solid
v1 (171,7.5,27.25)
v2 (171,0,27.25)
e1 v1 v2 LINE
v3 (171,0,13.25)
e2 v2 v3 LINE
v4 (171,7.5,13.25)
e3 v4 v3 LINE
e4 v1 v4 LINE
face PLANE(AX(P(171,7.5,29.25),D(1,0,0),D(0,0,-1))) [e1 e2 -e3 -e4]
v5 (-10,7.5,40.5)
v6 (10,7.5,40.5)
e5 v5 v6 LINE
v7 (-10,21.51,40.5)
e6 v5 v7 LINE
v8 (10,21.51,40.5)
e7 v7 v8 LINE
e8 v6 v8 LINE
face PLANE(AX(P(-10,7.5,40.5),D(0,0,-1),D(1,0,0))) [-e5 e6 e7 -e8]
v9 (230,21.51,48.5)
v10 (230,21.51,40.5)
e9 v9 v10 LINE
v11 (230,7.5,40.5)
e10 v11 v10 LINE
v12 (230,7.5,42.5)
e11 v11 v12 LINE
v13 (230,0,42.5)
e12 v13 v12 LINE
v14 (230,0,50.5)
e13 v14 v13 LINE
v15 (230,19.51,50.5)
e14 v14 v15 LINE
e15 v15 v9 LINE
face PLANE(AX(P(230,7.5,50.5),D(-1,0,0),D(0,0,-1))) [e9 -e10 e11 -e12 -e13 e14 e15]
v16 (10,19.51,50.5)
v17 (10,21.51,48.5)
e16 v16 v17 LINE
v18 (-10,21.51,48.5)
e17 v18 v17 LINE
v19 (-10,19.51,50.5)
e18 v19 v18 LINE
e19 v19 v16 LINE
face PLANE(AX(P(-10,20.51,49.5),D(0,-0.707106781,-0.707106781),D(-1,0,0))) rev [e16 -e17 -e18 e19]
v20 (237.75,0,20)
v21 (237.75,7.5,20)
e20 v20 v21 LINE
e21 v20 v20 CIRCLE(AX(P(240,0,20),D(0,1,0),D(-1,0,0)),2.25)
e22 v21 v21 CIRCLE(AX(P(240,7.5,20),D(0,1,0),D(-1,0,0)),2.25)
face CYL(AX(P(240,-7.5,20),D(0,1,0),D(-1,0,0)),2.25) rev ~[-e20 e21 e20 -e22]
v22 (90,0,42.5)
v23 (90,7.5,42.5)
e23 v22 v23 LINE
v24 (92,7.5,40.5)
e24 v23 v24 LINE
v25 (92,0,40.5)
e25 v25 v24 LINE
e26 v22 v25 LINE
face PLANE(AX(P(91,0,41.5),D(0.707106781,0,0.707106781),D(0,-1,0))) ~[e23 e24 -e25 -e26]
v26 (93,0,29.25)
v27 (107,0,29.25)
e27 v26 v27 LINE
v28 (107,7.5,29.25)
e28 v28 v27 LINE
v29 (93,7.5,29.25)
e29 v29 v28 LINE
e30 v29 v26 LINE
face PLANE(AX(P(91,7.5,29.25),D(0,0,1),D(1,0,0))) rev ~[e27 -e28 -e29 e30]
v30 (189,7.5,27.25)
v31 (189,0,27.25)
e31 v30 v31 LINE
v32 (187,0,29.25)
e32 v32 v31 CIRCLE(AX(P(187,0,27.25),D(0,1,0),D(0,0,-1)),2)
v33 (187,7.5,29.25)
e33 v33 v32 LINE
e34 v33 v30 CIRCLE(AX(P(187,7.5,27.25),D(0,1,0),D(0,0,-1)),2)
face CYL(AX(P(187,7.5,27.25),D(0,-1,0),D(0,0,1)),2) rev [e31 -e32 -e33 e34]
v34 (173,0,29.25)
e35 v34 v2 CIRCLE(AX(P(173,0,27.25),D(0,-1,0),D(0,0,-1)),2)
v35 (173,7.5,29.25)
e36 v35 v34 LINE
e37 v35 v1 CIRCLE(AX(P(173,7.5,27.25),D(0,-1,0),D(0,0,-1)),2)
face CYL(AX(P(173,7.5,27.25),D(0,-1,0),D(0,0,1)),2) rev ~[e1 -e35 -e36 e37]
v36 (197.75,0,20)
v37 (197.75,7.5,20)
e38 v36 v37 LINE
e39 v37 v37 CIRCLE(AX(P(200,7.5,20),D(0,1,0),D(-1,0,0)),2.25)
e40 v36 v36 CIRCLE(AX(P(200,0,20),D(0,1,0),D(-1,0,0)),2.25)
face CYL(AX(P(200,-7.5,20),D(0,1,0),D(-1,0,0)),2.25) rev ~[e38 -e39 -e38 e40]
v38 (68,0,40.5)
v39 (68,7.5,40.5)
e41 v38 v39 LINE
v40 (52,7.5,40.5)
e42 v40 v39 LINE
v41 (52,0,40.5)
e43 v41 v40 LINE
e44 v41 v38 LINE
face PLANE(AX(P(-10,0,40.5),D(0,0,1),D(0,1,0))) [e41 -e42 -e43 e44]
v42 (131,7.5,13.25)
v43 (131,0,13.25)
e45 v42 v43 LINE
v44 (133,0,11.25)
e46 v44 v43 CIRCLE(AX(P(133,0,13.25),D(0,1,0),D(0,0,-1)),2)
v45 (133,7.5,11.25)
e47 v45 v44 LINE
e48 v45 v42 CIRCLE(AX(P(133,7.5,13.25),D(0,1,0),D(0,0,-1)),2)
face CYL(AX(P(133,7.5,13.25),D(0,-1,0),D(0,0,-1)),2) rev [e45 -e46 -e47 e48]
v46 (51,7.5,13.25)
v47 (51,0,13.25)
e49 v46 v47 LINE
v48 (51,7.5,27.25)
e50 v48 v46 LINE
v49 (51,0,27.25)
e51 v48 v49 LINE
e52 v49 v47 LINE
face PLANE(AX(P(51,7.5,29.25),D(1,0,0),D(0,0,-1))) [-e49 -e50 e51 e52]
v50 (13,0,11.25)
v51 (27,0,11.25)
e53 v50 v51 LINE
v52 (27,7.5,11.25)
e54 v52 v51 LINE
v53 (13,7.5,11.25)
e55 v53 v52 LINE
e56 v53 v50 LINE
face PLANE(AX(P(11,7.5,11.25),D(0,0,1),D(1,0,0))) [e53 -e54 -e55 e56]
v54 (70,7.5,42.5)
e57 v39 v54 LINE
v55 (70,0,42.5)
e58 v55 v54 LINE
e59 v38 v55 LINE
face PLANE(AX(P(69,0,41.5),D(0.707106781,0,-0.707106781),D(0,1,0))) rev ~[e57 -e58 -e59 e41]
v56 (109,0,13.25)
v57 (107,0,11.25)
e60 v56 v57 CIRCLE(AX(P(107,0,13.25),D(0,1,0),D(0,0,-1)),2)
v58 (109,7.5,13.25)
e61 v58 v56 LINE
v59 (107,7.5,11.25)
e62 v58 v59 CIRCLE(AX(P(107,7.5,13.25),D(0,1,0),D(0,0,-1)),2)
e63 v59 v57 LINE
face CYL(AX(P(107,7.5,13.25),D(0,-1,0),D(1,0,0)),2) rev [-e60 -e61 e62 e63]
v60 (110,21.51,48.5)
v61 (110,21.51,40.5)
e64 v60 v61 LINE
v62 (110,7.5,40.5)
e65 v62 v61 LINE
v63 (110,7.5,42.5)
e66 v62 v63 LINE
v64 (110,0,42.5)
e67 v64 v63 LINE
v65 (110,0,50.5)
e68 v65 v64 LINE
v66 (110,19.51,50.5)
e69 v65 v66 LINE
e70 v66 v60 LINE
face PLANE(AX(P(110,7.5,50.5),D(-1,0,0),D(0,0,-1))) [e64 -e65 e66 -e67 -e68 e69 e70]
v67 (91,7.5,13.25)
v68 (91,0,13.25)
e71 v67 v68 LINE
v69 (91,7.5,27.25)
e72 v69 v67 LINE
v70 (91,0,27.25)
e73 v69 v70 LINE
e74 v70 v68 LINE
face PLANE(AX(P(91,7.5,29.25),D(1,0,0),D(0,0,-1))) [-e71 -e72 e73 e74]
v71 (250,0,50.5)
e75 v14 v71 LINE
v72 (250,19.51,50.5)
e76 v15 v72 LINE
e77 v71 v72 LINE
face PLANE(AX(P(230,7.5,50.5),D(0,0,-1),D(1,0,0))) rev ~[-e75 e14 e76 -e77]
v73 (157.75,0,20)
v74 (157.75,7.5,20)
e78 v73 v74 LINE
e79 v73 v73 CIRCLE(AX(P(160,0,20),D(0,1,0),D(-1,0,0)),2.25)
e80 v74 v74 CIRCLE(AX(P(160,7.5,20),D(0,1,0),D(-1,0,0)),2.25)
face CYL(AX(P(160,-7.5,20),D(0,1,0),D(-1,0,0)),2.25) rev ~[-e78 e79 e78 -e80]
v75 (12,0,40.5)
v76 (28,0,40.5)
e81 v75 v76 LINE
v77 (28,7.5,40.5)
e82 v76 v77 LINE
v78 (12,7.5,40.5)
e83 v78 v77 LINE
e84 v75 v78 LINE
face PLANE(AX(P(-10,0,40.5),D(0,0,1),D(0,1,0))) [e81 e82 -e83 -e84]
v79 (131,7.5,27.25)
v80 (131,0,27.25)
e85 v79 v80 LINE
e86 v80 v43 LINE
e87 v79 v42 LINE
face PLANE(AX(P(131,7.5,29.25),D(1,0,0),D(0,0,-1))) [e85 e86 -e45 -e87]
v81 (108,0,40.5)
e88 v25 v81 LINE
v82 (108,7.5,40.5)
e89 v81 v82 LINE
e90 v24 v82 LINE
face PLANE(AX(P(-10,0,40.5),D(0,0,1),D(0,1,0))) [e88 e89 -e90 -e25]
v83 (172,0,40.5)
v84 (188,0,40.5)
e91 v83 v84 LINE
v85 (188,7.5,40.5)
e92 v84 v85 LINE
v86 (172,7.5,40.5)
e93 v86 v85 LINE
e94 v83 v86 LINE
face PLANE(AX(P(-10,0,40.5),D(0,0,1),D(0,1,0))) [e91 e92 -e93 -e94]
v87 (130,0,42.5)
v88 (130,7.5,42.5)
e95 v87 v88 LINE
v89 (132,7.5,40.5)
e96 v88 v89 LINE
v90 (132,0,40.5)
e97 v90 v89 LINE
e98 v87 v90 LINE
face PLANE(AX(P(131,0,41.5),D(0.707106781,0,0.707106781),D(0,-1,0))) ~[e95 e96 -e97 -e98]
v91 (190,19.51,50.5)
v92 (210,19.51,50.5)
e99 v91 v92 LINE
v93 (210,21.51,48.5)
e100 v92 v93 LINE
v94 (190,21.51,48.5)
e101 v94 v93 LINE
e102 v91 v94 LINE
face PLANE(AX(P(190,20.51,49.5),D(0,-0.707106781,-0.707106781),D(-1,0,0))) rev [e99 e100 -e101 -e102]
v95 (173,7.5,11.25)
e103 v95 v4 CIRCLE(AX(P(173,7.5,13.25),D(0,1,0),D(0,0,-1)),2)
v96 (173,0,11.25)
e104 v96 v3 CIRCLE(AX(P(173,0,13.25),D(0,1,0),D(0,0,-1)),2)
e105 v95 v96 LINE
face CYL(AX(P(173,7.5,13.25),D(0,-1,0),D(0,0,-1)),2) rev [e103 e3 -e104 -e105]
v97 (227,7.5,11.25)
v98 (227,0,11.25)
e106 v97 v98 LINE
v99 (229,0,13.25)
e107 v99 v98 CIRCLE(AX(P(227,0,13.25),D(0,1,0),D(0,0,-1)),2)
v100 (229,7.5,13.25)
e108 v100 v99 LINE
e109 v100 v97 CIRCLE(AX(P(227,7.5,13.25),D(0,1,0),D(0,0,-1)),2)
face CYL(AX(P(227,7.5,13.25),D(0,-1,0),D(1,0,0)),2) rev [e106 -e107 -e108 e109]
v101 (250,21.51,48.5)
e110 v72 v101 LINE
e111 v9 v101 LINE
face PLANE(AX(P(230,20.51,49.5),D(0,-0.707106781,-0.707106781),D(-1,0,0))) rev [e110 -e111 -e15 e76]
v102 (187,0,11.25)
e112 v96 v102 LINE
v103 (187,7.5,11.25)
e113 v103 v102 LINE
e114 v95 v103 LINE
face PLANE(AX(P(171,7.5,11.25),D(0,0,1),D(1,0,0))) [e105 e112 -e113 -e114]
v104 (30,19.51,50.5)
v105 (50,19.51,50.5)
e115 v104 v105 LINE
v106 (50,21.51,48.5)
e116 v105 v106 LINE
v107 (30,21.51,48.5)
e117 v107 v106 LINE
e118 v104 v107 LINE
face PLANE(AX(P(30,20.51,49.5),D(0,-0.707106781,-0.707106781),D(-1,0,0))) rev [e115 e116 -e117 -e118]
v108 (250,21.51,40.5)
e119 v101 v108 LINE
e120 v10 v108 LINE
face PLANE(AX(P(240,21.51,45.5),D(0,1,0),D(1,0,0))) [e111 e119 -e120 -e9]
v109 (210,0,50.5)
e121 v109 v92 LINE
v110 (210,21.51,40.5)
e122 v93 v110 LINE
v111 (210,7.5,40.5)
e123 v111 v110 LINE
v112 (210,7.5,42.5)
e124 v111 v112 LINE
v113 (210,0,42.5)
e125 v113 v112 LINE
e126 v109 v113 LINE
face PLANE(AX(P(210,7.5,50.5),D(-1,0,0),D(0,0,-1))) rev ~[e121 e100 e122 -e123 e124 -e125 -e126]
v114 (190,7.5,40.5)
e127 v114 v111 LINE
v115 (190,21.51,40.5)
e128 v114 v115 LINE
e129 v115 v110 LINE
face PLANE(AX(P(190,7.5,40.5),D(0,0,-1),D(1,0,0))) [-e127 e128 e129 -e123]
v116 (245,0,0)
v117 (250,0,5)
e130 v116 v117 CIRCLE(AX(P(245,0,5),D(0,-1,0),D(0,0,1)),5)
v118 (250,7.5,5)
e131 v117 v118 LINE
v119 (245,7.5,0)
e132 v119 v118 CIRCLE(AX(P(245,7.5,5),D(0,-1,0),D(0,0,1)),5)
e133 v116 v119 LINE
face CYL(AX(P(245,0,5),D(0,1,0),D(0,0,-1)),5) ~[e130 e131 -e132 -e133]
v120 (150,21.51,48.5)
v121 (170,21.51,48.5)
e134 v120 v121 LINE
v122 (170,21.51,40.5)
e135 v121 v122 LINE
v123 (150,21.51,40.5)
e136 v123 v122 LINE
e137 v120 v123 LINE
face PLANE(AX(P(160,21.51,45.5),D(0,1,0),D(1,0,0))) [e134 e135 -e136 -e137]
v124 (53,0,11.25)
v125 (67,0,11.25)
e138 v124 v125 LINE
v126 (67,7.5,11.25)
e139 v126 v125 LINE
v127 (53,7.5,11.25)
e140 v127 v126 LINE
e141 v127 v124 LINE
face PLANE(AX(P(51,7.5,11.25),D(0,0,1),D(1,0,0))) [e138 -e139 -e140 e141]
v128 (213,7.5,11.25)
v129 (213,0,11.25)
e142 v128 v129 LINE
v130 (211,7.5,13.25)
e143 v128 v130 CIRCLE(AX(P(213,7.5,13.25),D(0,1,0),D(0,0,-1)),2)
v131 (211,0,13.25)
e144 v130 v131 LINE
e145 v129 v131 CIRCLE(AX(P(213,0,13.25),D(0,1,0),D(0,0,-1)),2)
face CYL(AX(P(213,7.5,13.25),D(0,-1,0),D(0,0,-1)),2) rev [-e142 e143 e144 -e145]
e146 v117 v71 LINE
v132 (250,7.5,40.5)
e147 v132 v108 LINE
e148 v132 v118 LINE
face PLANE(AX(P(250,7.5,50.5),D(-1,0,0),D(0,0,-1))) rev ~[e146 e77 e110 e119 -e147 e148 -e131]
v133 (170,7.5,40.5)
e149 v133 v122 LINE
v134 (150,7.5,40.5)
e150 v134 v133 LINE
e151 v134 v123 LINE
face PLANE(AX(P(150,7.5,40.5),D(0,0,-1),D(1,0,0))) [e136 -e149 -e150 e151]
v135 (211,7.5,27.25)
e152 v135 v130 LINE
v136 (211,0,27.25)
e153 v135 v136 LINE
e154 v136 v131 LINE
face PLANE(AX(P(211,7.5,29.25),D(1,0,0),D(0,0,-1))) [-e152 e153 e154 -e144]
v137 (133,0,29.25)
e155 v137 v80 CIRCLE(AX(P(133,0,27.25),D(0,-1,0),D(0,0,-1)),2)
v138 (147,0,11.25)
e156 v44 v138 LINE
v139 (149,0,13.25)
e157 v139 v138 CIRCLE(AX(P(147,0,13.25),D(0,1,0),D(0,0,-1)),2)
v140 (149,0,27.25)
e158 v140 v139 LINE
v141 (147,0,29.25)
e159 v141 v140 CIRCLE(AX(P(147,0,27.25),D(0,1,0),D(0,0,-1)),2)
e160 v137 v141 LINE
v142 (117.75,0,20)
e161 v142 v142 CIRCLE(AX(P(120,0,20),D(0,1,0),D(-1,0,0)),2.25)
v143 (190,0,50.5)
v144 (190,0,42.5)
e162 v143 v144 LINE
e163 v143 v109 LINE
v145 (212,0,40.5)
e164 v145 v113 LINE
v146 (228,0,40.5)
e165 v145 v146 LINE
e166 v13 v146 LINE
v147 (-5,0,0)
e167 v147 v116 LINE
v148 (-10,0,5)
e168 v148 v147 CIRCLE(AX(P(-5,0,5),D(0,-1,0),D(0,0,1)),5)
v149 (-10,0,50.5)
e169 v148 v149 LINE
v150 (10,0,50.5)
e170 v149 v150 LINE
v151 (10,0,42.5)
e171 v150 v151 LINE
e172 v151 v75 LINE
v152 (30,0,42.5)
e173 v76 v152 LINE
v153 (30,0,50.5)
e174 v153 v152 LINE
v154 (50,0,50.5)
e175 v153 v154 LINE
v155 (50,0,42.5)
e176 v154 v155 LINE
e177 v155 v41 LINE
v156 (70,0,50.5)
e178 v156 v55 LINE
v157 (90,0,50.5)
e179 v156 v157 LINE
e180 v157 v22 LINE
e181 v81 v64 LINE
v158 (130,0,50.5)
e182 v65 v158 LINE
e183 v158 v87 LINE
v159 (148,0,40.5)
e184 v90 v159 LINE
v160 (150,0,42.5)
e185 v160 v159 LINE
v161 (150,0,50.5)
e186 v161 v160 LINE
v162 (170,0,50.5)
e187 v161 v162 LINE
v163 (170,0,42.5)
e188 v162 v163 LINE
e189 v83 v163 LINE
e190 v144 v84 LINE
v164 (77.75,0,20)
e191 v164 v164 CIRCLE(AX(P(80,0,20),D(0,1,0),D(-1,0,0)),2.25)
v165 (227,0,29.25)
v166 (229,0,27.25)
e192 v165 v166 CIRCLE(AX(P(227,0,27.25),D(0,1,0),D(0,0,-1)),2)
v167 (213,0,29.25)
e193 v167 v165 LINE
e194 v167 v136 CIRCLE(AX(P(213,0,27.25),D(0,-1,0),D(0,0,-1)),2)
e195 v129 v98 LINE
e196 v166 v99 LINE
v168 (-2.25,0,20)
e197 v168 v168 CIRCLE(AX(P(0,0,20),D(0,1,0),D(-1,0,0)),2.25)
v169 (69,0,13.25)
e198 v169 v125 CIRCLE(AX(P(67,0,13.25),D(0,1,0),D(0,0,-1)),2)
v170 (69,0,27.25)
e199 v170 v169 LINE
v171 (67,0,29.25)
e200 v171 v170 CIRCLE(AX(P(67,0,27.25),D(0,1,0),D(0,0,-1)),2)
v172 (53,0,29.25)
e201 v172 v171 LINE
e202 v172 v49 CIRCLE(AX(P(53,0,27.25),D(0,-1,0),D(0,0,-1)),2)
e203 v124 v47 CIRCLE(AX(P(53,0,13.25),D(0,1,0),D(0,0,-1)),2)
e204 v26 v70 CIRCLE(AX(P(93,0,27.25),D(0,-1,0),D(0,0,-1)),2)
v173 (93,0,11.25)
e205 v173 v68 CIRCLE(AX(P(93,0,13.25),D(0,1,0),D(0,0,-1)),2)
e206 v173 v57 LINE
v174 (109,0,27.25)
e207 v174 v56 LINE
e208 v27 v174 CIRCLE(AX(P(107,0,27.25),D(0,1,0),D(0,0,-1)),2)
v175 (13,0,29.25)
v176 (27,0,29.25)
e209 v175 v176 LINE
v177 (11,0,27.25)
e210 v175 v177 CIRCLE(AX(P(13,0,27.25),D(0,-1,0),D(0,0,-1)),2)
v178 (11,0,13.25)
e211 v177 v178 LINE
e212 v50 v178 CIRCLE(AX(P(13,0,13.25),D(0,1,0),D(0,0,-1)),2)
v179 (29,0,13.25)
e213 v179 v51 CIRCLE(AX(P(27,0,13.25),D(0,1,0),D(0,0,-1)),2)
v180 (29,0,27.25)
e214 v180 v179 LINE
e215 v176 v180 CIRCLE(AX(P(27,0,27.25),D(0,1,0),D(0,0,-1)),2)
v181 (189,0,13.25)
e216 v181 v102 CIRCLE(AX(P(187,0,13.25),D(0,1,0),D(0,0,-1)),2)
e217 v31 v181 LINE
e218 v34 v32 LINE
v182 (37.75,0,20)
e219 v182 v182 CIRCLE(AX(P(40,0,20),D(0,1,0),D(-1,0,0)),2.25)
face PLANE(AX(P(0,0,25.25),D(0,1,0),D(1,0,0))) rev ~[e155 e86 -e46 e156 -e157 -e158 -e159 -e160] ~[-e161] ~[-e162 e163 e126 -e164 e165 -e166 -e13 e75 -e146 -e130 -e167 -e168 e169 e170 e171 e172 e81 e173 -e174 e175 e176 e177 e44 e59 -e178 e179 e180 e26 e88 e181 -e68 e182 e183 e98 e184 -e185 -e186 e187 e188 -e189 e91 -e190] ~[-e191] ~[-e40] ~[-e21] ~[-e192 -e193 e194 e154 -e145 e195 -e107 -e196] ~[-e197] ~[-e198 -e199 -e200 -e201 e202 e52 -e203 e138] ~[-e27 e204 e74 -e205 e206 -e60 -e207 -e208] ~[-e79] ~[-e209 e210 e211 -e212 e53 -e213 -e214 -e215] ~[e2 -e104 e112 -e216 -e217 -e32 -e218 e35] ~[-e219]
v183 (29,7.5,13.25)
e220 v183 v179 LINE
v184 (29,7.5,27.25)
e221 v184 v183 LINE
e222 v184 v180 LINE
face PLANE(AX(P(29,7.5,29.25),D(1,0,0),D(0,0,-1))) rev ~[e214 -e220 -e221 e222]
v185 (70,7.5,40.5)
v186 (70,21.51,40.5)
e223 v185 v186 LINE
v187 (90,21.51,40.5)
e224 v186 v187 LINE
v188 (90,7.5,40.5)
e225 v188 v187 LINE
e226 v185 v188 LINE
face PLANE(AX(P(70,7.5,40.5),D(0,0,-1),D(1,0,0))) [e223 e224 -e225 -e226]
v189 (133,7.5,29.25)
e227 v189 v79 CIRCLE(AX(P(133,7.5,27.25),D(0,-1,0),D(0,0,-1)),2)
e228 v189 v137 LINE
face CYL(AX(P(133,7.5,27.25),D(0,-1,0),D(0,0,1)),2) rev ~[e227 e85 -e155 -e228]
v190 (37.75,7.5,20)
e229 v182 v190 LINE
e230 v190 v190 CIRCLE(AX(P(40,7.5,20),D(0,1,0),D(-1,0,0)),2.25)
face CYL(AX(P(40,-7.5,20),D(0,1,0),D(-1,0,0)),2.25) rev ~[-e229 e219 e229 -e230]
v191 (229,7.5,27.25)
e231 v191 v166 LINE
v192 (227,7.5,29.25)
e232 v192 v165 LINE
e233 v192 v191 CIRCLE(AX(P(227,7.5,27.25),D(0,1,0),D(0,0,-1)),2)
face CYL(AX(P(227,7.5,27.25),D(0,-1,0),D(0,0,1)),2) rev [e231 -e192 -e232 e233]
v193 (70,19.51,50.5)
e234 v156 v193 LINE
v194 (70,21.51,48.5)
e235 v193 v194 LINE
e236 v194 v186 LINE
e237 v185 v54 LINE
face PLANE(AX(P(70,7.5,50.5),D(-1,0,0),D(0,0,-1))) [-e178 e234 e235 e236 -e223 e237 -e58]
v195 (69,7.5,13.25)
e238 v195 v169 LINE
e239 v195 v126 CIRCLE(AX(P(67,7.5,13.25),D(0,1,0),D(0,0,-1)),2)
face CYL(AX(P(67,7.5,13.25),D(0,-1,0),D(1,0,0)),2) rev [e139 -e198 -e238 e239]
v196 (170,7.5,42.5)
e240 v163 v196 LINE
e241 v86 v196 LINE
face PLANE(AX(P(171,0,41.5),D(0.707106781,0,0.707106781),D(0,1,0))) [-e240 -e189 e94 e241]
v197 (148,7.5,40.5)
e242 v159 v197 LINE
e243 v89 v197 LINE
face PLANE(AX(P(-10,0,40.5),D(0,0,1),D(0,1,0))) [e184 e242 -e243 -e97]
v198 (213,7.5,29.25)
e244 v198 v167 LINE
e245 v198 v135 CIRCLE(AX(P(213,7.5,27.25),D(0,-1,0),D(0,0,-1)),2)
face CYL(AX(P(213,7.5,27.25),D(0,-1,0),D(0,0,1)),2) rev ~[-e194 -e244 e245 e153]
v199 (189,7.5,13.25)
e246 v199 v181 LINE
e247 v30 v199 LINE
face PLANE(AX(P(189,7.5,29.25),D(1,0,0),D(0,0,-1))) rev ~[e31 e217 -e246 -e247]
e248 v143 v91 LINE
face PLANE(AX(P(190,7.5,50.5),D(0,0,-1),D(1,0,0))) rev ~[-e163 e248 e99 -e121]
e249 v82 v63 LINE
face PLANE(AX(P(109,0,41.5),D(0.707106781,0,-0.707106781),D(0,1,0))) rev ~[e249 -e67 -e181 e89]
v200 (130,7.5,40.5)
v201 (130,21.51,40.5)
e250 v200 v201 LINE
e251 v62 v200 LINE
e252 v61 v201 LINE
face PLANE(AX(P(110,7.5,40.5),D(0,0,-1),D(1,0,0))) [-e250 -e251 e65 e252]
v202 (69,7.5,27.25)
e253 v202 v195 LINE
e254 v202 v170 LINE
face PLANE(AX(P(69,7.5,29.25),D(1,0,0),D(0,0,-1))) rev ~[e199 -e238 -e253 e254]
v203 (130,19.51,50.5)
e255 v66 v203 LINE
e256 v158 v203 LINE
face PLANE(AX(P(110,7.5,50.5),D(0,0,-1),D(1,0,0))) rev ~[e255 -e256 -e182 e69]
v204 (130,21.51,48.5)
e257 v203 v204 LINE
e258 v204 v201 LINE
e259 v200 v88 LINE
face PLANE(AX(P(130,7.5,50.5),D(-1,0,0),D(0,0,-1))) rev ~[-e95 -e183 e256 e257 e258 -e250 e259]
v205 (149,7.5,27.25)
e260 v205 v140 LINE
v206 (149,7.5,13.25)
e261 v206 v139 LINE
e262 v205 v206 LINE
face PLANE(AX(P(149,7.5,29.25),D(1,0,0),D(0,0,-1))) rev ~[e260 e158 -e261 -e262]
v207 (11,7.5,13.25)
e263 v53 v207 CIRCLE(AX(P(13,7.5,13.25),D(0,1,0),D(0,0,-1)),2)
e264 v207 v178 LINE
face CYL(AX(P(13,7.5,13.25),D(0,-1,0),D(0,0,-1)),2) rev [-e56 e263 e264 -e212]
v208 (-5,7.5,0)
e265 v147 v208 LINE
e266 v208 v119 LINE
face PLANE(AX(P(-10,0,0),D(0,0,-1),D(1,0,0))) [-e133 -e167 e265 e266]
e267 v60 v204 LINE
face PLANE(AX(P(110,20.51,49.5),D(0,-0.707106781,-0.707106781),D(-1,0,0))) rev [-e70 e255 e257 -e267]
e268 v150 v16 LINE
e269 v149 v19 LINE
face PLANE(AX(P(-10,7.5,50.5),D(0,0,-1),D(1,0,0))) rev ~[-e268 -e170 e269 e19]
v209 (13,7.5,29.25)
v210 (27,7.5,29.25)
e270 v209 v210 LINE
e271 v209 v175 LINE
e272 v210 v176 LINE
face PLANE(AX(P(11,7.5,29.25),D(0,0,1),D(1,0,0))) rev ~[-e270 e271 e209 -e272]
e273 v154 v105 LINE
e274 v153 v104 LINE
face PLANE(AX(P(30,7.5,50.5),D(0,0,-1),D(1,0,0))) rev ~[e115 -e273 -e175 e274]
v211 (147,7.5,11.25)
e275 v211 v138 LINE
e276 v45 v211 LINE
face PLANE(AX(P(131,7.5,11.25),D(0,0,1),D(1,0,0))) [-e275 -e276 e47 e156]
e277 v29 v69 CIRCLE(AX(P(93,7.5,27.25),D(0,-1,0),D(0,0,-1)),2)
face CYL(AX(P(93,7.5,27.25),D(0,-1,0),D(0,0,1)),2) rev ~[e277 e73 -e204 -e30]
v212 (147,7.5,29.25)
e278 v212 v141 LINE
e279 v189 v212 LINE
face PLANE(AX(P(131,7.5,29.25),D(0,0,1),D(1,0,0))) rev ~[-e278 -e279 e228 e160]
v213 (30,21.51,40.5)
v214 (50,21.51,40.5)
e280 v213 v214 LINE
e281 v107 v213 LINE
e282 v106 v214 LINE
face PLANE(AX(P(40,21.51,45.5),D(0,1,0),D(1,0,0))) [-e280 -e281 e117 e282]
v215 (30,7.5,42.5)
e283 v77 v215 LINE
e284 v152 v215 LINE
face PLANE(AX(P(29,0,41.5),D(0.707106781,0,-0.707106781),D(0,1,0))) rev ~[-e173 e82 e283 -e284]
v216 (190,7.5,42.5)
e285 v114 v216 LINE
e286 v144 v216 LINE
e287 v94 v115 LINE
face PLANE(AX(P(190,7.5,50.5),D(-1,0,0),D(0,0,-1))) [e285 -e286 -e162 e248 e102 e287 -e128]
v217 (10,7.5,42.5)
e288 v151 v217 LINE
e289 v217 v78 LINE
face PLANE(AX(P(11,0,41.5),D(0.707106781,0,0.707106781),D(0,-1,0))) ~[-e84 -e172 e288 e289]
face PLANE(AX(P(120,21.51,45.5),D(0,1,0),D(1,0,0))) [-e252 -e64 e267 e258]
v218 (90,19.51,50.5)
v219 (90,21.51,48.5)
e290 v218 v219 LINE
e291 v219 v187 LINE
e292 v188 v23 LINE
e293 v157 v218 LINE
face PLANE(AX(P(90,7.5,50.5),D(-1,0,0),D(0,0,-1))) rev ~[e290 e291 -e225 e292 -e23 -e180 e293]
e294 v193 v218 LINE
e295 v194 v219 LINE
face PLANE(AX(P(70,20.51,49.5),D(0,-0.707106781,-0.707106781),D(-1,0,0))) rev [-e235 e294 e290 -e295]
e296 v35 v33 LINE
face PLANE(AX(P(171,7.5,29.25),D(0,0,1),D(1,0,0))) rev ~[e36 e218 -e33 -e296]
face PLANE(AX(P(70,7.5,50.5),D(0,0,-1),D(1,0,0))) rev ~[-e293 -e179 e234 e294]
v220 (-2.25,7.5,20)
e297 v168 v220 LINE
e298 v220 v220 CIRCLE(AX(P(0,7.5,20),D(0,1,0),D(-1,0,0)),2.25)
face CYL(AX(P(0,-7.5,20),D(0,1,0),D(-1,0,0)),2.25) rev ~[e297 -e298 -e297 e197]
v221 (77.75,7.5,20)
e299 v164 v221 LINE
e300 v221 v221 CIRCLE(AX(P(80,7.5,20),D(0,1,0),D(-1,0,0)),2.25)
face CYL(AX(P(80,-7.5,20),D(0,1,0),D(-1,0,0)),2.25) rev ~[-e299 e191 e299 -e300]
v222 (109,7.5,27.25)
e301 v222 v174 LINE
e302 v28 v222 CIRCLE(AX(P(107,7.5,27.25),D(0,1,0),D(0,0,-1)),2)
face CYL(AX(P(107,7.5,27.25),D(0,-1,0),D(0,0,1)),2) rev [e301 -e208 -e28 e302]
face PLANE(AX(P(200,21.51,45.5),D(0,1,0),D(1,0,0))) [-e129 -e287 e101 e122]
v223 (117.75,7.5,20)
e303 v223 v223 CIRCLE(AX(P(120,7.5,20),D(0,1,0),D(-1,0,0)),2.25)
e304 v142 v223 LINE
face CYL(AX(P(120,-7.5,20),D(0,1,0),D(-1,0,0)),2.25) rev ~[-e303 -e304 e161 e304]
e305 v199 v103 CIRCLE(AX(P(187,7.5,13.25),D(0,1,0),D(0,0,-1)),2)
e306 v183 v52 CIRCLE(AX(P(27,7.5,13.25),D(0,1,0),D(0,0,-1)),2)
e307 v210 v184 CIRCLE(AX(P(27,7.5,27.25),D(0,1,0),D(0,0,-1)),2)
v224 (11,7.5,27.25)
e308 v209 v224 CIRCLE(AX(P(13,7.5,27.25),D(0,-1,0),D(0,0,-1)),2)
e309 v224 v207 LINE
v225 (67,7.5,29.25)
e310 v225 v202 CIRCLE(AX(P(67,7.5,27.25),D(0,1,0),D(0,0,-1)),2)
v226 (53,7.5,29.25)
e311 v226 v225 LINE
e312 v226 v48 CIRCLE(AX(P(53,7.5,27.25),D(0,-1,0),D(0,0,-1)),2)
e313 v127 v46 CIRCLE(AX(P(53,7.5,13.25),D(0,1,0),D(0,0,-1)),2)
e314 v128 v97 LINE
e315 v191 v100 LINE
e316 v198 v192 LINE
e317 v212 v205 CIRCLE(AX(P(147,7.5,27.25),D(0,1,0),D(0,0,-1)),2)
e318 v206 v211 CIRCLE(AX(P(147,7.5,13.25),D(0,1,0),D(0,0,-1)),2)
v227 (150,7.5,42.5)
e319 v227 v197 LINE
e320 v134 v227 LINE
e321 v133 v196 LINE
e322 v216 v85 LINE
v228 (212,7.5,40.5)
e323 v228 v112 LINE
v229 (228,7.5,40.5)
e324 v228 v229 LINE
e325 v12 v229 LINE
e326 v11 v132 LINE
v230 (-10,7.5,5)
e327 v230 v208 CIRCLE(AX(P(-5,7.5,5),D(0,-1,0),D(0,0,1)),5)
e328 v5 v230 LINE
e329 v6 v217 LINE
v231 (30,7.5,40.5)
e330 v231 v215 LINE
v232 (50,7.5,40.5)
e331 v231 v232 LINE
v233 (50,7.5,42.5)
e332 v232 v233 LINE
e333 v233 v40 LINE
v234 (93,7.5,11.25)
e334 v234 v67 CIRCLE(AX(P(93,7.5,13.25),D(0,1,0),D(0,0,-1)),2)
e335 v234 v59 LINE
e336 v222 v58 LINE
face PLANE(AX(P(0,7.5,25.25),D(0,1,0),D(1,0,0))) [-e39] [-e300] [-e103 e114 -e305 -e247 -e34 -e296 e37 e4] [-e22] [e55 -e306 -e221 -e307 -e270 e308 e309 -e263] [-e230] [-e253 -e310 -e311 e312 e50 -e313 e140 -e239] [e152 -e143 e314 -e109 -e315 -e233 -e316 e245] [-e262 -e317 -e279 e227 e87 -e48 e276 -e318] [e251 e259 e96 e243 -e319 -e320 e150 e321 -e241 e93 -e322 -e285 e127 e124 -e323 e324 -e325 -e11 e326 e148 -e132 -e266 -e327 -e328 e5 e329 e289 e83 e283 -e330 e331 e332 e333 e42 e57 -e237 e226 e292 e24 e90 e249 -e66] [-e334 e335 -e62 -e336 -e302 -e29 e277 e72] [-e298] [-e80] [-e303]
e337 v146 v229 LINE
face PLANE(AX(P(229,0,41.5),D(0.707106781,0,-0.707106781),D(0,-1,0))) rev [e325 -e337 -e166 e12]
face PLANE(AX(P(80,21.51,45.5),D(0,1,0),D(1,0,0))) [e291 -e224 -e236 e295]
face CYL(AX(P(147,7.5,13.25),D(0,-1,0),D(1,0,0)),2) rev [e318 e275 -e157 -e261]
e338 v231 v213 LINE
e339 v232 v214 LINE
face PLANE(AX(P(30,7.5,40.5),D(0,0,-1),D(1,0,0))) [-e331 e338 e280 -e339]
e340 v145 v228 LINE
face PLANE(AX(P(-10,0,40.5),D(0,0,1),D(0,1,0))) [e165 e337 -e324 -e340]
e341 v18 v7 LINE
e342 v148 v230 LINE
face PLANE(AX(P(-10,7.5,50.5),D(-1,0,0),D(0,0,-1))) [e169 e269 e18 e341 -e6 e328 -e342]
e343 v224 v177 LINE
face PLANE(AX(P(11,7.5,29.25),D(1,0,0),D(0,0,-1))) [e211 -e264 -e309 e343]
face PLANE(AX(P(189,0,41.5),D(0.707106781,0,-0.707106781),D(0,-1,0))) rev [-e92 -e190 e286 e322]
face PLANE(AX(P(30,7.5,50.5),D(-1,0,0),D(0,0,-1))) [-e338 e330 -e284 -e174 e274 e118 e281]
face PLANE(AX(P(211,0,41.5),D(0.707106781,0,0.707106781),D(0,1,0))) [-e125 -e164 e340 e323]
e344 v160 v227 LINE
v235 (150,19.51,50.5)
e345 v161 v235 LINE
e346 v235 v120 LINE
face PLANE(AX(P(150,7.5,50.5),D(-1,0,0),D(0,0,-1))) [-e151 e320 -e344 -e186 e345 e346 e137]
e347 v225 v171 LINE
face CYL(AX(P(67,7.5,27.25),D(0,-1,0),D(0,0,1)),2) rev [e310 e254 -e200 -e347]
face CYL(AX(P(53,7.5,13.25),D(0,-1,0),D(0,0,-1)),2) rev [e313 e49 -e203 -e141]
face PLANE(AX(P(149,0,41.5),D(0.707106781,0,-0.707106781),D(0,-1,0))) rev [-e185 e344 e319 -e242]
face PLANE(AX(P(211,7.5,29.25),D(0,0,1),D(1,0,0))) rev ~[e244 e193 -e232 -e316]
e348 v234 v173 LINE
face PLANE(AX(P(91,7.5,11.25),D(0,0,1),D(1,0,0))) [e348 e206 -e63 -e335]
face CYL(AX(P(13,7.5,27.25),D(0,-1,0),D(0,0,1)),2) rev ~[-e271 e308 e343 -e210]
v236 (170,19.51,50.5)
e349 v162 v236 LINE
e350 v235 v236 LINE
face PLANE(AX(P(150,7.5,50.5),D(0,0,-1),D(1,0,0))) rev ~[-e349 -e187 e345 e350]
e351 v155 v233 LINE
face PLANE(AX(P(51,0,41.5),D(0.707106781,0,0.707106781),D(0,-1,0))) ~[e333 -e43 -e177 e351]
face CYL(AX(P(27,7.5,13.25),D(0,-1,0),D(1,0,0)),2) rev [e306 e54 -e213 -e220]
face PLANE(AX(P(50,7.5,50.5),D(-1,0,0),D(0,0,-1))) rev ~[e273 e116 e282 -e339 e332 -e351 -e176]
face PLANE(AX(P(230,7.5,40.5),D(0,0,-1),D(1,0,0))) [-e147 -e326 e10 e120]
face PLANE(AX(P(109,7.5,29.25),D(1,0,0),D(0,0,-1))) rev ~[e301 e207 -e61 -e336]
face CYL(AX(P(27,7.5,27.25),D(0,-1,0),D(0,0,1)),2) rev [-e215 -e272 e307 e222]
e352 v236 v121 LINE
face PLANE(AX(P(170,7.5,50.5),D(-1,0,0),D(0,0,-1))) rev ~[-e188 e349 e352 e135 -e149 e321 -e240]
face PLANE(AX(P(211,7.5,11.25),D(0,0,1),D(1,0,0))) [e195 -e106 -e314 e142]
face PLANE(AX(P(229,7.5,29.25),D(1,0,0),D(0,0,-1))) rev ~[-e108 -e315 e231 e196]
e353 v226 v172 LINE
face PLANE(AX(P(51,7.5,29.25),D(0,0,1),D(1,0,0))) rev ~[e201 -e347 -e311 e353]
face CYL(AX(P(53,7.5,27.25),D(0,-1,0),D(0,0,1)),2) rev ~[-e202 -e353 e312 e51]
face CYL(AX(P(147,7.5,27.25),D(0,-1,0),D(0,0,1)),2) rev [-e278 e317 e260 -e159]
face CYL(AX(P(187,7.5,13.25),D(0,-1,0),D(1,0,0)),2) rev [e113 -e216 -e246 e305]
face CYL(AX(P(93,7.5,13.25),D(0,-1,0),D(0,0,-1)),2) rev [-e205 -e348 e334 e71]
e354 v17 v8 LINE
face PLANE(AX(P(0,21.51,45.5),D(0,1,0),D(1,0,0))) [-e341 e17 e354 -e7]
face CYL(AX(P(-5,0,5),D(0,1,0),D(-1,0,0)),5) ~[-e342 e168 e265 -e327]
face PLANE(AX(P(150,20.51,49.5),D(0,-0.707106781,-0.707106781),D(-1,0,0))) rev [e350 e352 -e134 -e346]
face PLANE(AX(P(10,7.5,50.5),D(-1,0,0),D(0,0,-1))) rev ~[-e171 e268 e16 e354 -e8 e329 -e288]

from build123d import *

# Parameters (mm, degrees)
SKETCH1_W                = 20
SKETCH1_H                = 50.5
BOSS_EXTRUDE1_DEPTH      = 7.5
SKETCH2_W                = 20
SKETCH2_H                = 10
BOSS_EXTRUDE2_DEPTH      = 14.01
LPATTERN1_COUNT          = 7
LPATTERN1_PITCH          = 40
SKETCH4_W                = 40.5
SKETCH4_H                = 7.5
BOSS_EXTRUDE3_DEPTH      = 260
M4_CLEARANCE_HOLE1_D     = 4.5
M4_CLEARANCE_HOLE1_DEPTH = 7.5
LPATTERN2_COUNT          = 7
LPATTERN2_PITCH          = 40
SKETCH7_W                = 18
SKETCH7_H                = 18
CUT_EXTRUDE1_DEPTH       = 8.5
FILLET1_R                = 2
LPATTERN3_COUNT          = 6
LPATTERN3_PITCH          = 40
FILLET1_OF_LPATTERN3_R   = 2
FILLET2_R                = 5
CHAMFER1_SIZE            = 2
CHAMFER2_SIZE            = 2


with BuildPart() as part:
    # Sketch1 → Boss-Extrude1 (new body)
    with BuildSketch(Plane(origin=(0, 0, 0), x_dir=(1, 0, 0), z_dir=(0, 1, 0))):
        with Locations((0, -25.25)):
            Rectangle(SKETCH1_W, SKETCH1_H)
    extrude(amount=BOSS_EXTRUDE1_DEPTH)

    # Sketch2 → Boss-Extrude2 (add)
    with BuildSketch(Plane(origin=(0, 7.5, 0), x_dir=(1, 0, 0), z_dir=(0, 1, 0))):
        with Locations((0, -45.5)):
            Rectangle(SKETCH2_W, SKETCH2_H)
    extrude(amount=BOSS_EXTRUDE2_DEPTH)


with BuildPart() as lpattern1_1:
    # LPattern1: pattern copy
    add(part.part.moved(Location(Vector(1, 0, 0) * (1 * LPATTERN1_PITCH))))


with BuildPart() as lpattern1_2:
    # LPattern1: pattern copy
    add(part.part.moved(Location(Vector(1, 0, 0) * (2 * LPATTERN1_PITCH))))


with BuildPart() as lpattern1_3:
    # LPattern1: pattern copy
    add(part.part.moved(Location(Vector(1, 0, 0) * (3 * LPATTERN1_PITCH))))


with BuildPart() as lpattern1_4:
    # LPattern1: pattern copy
    add(part.part.moved(Location(Vector(1, 0, 0) * (4 * LPATTERN1_PITCH))))


with BuildPart() as lpattern1_5:
    # LPattern1: pattern copy
    add(part.part.moved(Location(Vector(1, 0, 0) * (5 * LPATTERN1_PITCH))))


with BuildPart() as lpattern1_6:
    # LPattern1: pattern copy
    add(part.part.moved(Location(Vector(1, 0, 0) * (6 * LPATTERN1_PITCH))))


with BuildPart() as part_1:
    add(part.part)

    add(lpattern1_1.part)  # Boss-Extrude3 merges LPattern1_1

    add(lpattern1_2.part)  # Boss-Extrude3 merges LPattern1_2

    add(lpattern1_3.part)  # Boss-Extrude3 merges LPattern1_3

    add(lpattern1_4.part)  # Boss-Extrude3 merges LPattern1_4

    add(lpattern1_5.part)  # Boss-Extrude3 merges LPattern1_5

    add(lpattern1_6.part)  # Boss-Extrude3 merges LPattern1_6
    # Sketch4 → Boss-Extrude3 (add, through all)
    with BuildSketch(Plane.ZY.offset(10)):
        with Locations((20.25, 3.75)):
            Rectangle(SKETCH4_W, SKETCH4_H)
    extrude(amount=-BOSS_EXTRUDE3_DEPTH)

    # M4 Clearance Hole1
    with Locations(Plane.XZ):
        with Locations((240, 20)):
            m4_clearance_hole1 = Hole(M4_CLEARANCE_HOLE1_D / 2, depth=M4_CLEARANCE_HOLE1_DEPTH)

    # LPattern2: M4 Clearance Hole1 ×7
    with Locations(*[(-i * LPATTERN2_PITCH, 0, 0) for i in range(1, LPATTERN2_COUNT)]):
        add(m4_clearance_hole1, mode=Mode.SUBTRACT)

    # Sketch7 → Cut-Extrude1 (cut, through all)
    with BuildSketch(Plane(origin=(0, 7.5, 0), x_dir=(1, 0, 0), z_dir=(0, 1, 0))):
        with Locations((220, -20.25)):
            Rectangle(SKETCH7_W, SKETCH7_H)
    cut_extrude1 = extrude(amount=-CUT_EXTRUDE1_DEPTH, mode=Mode.SUBTRACT)

    # Fillet1
    fillet1_edges = [part_1.edges().sort_by_distance(p)[0] for p in [
        (229, 3.75, 11.25),
        (229, 3.75, 29.25),
        (211, 3.75, 29.25),
        (211, 3.75, 11.25),
    ]]
    fillet(fillet1_edges, radius=FILLET1_R)

    # LPattern3: Cut-Extrude1 ×6
    with Locations(*[(-i * LPATTERN3_PITCH, 0, 0) for i in range(1, LPATTERN3_COUNT)]):
        add(cut_extrude1, mode=Mode.SUBTRACT)

    # Fillet1 of LPattern3
    fillet1_of_lpattern3_edges = [part_1.edges().sort_by_distance(p)[0] for p in [
        (189, 3.75, 11.25),
        (189, 3.75, 29.25),
        (171, 3.75, 29.25),
        (171, 3.75, 11.25),
        (149, 3.75, 11.25),
        (149, 3.75, 29.25),
        (131, 3.75, 29.25),
        (131, 3.75, 11.25),
        (109, 3.75, 11.25),
        (109, 3.75, 29.25),
        (91, 3.75, 29.25),
        (91, 3.75, 11.25),
        (69, 3.75, 11.25),
        (69, 3.75, 29.25),
        (51, 3.75, 29.25),
        (51, 3.75, 11.25),
        (29, 3.75, 11.25),
        (29, 3.75, 29.25),
        (11, 3.75, 29.25),
        (11, 3.75, 11.25),
    ]]
    fillet(fillet1_of_lpattern3_edges, radius=FILLET1_OF_LPATTERN3_R)

    # Fillet2
    fillet2_edges = [part_1.edges().sort_by_distance(p)[0] for p in [
        (250, 3.75, 0),
        (-10, 3.75, 0),
    ]]
    fillet(fillet2_edges, radius=FILLET2_R)

    # Chamfer1
    chamfer1_edges = [part_1.edges().sort_by_distance(p)[0] for p in [
        (120, 21.51, 50.5),
        (160, 21.51, 50.5),
        (200, 21.51, 50.5),
        (240, 21.51, 50.5),
        (0, 21.51, 50.5),
        (40, 21.51, 50.5),
        (80, 21.51, 50.5),
    ]]
    chamfer(chamfer1_edges, length=CHAMFER1_SIZE)

    # Chamfer2
    chamfer2_edges = [part_1.edges().sort_by_distance(p)[0] for p in [
        (110, 3.75, 40.5),
        (130, 3.75, 40.5),
        (150, 3.75, 40.5),
        (170, 3.75, 40.5),
        (190, 3.75, 40.5),
        (210, 3.75, 40.5),
        (230, 3.75, 40.5),
        (10, 3.75, 40.5),
        (50, 3.75, 40.5),
        (30, 3.75, 40.5),
        (70, 3.75, 40.5),
        (90, 3.75, 40.5),
    ]]
    chamfer(chamfer2_edges, length=CHAMFER2_SIZE)


solid = part_1.part
